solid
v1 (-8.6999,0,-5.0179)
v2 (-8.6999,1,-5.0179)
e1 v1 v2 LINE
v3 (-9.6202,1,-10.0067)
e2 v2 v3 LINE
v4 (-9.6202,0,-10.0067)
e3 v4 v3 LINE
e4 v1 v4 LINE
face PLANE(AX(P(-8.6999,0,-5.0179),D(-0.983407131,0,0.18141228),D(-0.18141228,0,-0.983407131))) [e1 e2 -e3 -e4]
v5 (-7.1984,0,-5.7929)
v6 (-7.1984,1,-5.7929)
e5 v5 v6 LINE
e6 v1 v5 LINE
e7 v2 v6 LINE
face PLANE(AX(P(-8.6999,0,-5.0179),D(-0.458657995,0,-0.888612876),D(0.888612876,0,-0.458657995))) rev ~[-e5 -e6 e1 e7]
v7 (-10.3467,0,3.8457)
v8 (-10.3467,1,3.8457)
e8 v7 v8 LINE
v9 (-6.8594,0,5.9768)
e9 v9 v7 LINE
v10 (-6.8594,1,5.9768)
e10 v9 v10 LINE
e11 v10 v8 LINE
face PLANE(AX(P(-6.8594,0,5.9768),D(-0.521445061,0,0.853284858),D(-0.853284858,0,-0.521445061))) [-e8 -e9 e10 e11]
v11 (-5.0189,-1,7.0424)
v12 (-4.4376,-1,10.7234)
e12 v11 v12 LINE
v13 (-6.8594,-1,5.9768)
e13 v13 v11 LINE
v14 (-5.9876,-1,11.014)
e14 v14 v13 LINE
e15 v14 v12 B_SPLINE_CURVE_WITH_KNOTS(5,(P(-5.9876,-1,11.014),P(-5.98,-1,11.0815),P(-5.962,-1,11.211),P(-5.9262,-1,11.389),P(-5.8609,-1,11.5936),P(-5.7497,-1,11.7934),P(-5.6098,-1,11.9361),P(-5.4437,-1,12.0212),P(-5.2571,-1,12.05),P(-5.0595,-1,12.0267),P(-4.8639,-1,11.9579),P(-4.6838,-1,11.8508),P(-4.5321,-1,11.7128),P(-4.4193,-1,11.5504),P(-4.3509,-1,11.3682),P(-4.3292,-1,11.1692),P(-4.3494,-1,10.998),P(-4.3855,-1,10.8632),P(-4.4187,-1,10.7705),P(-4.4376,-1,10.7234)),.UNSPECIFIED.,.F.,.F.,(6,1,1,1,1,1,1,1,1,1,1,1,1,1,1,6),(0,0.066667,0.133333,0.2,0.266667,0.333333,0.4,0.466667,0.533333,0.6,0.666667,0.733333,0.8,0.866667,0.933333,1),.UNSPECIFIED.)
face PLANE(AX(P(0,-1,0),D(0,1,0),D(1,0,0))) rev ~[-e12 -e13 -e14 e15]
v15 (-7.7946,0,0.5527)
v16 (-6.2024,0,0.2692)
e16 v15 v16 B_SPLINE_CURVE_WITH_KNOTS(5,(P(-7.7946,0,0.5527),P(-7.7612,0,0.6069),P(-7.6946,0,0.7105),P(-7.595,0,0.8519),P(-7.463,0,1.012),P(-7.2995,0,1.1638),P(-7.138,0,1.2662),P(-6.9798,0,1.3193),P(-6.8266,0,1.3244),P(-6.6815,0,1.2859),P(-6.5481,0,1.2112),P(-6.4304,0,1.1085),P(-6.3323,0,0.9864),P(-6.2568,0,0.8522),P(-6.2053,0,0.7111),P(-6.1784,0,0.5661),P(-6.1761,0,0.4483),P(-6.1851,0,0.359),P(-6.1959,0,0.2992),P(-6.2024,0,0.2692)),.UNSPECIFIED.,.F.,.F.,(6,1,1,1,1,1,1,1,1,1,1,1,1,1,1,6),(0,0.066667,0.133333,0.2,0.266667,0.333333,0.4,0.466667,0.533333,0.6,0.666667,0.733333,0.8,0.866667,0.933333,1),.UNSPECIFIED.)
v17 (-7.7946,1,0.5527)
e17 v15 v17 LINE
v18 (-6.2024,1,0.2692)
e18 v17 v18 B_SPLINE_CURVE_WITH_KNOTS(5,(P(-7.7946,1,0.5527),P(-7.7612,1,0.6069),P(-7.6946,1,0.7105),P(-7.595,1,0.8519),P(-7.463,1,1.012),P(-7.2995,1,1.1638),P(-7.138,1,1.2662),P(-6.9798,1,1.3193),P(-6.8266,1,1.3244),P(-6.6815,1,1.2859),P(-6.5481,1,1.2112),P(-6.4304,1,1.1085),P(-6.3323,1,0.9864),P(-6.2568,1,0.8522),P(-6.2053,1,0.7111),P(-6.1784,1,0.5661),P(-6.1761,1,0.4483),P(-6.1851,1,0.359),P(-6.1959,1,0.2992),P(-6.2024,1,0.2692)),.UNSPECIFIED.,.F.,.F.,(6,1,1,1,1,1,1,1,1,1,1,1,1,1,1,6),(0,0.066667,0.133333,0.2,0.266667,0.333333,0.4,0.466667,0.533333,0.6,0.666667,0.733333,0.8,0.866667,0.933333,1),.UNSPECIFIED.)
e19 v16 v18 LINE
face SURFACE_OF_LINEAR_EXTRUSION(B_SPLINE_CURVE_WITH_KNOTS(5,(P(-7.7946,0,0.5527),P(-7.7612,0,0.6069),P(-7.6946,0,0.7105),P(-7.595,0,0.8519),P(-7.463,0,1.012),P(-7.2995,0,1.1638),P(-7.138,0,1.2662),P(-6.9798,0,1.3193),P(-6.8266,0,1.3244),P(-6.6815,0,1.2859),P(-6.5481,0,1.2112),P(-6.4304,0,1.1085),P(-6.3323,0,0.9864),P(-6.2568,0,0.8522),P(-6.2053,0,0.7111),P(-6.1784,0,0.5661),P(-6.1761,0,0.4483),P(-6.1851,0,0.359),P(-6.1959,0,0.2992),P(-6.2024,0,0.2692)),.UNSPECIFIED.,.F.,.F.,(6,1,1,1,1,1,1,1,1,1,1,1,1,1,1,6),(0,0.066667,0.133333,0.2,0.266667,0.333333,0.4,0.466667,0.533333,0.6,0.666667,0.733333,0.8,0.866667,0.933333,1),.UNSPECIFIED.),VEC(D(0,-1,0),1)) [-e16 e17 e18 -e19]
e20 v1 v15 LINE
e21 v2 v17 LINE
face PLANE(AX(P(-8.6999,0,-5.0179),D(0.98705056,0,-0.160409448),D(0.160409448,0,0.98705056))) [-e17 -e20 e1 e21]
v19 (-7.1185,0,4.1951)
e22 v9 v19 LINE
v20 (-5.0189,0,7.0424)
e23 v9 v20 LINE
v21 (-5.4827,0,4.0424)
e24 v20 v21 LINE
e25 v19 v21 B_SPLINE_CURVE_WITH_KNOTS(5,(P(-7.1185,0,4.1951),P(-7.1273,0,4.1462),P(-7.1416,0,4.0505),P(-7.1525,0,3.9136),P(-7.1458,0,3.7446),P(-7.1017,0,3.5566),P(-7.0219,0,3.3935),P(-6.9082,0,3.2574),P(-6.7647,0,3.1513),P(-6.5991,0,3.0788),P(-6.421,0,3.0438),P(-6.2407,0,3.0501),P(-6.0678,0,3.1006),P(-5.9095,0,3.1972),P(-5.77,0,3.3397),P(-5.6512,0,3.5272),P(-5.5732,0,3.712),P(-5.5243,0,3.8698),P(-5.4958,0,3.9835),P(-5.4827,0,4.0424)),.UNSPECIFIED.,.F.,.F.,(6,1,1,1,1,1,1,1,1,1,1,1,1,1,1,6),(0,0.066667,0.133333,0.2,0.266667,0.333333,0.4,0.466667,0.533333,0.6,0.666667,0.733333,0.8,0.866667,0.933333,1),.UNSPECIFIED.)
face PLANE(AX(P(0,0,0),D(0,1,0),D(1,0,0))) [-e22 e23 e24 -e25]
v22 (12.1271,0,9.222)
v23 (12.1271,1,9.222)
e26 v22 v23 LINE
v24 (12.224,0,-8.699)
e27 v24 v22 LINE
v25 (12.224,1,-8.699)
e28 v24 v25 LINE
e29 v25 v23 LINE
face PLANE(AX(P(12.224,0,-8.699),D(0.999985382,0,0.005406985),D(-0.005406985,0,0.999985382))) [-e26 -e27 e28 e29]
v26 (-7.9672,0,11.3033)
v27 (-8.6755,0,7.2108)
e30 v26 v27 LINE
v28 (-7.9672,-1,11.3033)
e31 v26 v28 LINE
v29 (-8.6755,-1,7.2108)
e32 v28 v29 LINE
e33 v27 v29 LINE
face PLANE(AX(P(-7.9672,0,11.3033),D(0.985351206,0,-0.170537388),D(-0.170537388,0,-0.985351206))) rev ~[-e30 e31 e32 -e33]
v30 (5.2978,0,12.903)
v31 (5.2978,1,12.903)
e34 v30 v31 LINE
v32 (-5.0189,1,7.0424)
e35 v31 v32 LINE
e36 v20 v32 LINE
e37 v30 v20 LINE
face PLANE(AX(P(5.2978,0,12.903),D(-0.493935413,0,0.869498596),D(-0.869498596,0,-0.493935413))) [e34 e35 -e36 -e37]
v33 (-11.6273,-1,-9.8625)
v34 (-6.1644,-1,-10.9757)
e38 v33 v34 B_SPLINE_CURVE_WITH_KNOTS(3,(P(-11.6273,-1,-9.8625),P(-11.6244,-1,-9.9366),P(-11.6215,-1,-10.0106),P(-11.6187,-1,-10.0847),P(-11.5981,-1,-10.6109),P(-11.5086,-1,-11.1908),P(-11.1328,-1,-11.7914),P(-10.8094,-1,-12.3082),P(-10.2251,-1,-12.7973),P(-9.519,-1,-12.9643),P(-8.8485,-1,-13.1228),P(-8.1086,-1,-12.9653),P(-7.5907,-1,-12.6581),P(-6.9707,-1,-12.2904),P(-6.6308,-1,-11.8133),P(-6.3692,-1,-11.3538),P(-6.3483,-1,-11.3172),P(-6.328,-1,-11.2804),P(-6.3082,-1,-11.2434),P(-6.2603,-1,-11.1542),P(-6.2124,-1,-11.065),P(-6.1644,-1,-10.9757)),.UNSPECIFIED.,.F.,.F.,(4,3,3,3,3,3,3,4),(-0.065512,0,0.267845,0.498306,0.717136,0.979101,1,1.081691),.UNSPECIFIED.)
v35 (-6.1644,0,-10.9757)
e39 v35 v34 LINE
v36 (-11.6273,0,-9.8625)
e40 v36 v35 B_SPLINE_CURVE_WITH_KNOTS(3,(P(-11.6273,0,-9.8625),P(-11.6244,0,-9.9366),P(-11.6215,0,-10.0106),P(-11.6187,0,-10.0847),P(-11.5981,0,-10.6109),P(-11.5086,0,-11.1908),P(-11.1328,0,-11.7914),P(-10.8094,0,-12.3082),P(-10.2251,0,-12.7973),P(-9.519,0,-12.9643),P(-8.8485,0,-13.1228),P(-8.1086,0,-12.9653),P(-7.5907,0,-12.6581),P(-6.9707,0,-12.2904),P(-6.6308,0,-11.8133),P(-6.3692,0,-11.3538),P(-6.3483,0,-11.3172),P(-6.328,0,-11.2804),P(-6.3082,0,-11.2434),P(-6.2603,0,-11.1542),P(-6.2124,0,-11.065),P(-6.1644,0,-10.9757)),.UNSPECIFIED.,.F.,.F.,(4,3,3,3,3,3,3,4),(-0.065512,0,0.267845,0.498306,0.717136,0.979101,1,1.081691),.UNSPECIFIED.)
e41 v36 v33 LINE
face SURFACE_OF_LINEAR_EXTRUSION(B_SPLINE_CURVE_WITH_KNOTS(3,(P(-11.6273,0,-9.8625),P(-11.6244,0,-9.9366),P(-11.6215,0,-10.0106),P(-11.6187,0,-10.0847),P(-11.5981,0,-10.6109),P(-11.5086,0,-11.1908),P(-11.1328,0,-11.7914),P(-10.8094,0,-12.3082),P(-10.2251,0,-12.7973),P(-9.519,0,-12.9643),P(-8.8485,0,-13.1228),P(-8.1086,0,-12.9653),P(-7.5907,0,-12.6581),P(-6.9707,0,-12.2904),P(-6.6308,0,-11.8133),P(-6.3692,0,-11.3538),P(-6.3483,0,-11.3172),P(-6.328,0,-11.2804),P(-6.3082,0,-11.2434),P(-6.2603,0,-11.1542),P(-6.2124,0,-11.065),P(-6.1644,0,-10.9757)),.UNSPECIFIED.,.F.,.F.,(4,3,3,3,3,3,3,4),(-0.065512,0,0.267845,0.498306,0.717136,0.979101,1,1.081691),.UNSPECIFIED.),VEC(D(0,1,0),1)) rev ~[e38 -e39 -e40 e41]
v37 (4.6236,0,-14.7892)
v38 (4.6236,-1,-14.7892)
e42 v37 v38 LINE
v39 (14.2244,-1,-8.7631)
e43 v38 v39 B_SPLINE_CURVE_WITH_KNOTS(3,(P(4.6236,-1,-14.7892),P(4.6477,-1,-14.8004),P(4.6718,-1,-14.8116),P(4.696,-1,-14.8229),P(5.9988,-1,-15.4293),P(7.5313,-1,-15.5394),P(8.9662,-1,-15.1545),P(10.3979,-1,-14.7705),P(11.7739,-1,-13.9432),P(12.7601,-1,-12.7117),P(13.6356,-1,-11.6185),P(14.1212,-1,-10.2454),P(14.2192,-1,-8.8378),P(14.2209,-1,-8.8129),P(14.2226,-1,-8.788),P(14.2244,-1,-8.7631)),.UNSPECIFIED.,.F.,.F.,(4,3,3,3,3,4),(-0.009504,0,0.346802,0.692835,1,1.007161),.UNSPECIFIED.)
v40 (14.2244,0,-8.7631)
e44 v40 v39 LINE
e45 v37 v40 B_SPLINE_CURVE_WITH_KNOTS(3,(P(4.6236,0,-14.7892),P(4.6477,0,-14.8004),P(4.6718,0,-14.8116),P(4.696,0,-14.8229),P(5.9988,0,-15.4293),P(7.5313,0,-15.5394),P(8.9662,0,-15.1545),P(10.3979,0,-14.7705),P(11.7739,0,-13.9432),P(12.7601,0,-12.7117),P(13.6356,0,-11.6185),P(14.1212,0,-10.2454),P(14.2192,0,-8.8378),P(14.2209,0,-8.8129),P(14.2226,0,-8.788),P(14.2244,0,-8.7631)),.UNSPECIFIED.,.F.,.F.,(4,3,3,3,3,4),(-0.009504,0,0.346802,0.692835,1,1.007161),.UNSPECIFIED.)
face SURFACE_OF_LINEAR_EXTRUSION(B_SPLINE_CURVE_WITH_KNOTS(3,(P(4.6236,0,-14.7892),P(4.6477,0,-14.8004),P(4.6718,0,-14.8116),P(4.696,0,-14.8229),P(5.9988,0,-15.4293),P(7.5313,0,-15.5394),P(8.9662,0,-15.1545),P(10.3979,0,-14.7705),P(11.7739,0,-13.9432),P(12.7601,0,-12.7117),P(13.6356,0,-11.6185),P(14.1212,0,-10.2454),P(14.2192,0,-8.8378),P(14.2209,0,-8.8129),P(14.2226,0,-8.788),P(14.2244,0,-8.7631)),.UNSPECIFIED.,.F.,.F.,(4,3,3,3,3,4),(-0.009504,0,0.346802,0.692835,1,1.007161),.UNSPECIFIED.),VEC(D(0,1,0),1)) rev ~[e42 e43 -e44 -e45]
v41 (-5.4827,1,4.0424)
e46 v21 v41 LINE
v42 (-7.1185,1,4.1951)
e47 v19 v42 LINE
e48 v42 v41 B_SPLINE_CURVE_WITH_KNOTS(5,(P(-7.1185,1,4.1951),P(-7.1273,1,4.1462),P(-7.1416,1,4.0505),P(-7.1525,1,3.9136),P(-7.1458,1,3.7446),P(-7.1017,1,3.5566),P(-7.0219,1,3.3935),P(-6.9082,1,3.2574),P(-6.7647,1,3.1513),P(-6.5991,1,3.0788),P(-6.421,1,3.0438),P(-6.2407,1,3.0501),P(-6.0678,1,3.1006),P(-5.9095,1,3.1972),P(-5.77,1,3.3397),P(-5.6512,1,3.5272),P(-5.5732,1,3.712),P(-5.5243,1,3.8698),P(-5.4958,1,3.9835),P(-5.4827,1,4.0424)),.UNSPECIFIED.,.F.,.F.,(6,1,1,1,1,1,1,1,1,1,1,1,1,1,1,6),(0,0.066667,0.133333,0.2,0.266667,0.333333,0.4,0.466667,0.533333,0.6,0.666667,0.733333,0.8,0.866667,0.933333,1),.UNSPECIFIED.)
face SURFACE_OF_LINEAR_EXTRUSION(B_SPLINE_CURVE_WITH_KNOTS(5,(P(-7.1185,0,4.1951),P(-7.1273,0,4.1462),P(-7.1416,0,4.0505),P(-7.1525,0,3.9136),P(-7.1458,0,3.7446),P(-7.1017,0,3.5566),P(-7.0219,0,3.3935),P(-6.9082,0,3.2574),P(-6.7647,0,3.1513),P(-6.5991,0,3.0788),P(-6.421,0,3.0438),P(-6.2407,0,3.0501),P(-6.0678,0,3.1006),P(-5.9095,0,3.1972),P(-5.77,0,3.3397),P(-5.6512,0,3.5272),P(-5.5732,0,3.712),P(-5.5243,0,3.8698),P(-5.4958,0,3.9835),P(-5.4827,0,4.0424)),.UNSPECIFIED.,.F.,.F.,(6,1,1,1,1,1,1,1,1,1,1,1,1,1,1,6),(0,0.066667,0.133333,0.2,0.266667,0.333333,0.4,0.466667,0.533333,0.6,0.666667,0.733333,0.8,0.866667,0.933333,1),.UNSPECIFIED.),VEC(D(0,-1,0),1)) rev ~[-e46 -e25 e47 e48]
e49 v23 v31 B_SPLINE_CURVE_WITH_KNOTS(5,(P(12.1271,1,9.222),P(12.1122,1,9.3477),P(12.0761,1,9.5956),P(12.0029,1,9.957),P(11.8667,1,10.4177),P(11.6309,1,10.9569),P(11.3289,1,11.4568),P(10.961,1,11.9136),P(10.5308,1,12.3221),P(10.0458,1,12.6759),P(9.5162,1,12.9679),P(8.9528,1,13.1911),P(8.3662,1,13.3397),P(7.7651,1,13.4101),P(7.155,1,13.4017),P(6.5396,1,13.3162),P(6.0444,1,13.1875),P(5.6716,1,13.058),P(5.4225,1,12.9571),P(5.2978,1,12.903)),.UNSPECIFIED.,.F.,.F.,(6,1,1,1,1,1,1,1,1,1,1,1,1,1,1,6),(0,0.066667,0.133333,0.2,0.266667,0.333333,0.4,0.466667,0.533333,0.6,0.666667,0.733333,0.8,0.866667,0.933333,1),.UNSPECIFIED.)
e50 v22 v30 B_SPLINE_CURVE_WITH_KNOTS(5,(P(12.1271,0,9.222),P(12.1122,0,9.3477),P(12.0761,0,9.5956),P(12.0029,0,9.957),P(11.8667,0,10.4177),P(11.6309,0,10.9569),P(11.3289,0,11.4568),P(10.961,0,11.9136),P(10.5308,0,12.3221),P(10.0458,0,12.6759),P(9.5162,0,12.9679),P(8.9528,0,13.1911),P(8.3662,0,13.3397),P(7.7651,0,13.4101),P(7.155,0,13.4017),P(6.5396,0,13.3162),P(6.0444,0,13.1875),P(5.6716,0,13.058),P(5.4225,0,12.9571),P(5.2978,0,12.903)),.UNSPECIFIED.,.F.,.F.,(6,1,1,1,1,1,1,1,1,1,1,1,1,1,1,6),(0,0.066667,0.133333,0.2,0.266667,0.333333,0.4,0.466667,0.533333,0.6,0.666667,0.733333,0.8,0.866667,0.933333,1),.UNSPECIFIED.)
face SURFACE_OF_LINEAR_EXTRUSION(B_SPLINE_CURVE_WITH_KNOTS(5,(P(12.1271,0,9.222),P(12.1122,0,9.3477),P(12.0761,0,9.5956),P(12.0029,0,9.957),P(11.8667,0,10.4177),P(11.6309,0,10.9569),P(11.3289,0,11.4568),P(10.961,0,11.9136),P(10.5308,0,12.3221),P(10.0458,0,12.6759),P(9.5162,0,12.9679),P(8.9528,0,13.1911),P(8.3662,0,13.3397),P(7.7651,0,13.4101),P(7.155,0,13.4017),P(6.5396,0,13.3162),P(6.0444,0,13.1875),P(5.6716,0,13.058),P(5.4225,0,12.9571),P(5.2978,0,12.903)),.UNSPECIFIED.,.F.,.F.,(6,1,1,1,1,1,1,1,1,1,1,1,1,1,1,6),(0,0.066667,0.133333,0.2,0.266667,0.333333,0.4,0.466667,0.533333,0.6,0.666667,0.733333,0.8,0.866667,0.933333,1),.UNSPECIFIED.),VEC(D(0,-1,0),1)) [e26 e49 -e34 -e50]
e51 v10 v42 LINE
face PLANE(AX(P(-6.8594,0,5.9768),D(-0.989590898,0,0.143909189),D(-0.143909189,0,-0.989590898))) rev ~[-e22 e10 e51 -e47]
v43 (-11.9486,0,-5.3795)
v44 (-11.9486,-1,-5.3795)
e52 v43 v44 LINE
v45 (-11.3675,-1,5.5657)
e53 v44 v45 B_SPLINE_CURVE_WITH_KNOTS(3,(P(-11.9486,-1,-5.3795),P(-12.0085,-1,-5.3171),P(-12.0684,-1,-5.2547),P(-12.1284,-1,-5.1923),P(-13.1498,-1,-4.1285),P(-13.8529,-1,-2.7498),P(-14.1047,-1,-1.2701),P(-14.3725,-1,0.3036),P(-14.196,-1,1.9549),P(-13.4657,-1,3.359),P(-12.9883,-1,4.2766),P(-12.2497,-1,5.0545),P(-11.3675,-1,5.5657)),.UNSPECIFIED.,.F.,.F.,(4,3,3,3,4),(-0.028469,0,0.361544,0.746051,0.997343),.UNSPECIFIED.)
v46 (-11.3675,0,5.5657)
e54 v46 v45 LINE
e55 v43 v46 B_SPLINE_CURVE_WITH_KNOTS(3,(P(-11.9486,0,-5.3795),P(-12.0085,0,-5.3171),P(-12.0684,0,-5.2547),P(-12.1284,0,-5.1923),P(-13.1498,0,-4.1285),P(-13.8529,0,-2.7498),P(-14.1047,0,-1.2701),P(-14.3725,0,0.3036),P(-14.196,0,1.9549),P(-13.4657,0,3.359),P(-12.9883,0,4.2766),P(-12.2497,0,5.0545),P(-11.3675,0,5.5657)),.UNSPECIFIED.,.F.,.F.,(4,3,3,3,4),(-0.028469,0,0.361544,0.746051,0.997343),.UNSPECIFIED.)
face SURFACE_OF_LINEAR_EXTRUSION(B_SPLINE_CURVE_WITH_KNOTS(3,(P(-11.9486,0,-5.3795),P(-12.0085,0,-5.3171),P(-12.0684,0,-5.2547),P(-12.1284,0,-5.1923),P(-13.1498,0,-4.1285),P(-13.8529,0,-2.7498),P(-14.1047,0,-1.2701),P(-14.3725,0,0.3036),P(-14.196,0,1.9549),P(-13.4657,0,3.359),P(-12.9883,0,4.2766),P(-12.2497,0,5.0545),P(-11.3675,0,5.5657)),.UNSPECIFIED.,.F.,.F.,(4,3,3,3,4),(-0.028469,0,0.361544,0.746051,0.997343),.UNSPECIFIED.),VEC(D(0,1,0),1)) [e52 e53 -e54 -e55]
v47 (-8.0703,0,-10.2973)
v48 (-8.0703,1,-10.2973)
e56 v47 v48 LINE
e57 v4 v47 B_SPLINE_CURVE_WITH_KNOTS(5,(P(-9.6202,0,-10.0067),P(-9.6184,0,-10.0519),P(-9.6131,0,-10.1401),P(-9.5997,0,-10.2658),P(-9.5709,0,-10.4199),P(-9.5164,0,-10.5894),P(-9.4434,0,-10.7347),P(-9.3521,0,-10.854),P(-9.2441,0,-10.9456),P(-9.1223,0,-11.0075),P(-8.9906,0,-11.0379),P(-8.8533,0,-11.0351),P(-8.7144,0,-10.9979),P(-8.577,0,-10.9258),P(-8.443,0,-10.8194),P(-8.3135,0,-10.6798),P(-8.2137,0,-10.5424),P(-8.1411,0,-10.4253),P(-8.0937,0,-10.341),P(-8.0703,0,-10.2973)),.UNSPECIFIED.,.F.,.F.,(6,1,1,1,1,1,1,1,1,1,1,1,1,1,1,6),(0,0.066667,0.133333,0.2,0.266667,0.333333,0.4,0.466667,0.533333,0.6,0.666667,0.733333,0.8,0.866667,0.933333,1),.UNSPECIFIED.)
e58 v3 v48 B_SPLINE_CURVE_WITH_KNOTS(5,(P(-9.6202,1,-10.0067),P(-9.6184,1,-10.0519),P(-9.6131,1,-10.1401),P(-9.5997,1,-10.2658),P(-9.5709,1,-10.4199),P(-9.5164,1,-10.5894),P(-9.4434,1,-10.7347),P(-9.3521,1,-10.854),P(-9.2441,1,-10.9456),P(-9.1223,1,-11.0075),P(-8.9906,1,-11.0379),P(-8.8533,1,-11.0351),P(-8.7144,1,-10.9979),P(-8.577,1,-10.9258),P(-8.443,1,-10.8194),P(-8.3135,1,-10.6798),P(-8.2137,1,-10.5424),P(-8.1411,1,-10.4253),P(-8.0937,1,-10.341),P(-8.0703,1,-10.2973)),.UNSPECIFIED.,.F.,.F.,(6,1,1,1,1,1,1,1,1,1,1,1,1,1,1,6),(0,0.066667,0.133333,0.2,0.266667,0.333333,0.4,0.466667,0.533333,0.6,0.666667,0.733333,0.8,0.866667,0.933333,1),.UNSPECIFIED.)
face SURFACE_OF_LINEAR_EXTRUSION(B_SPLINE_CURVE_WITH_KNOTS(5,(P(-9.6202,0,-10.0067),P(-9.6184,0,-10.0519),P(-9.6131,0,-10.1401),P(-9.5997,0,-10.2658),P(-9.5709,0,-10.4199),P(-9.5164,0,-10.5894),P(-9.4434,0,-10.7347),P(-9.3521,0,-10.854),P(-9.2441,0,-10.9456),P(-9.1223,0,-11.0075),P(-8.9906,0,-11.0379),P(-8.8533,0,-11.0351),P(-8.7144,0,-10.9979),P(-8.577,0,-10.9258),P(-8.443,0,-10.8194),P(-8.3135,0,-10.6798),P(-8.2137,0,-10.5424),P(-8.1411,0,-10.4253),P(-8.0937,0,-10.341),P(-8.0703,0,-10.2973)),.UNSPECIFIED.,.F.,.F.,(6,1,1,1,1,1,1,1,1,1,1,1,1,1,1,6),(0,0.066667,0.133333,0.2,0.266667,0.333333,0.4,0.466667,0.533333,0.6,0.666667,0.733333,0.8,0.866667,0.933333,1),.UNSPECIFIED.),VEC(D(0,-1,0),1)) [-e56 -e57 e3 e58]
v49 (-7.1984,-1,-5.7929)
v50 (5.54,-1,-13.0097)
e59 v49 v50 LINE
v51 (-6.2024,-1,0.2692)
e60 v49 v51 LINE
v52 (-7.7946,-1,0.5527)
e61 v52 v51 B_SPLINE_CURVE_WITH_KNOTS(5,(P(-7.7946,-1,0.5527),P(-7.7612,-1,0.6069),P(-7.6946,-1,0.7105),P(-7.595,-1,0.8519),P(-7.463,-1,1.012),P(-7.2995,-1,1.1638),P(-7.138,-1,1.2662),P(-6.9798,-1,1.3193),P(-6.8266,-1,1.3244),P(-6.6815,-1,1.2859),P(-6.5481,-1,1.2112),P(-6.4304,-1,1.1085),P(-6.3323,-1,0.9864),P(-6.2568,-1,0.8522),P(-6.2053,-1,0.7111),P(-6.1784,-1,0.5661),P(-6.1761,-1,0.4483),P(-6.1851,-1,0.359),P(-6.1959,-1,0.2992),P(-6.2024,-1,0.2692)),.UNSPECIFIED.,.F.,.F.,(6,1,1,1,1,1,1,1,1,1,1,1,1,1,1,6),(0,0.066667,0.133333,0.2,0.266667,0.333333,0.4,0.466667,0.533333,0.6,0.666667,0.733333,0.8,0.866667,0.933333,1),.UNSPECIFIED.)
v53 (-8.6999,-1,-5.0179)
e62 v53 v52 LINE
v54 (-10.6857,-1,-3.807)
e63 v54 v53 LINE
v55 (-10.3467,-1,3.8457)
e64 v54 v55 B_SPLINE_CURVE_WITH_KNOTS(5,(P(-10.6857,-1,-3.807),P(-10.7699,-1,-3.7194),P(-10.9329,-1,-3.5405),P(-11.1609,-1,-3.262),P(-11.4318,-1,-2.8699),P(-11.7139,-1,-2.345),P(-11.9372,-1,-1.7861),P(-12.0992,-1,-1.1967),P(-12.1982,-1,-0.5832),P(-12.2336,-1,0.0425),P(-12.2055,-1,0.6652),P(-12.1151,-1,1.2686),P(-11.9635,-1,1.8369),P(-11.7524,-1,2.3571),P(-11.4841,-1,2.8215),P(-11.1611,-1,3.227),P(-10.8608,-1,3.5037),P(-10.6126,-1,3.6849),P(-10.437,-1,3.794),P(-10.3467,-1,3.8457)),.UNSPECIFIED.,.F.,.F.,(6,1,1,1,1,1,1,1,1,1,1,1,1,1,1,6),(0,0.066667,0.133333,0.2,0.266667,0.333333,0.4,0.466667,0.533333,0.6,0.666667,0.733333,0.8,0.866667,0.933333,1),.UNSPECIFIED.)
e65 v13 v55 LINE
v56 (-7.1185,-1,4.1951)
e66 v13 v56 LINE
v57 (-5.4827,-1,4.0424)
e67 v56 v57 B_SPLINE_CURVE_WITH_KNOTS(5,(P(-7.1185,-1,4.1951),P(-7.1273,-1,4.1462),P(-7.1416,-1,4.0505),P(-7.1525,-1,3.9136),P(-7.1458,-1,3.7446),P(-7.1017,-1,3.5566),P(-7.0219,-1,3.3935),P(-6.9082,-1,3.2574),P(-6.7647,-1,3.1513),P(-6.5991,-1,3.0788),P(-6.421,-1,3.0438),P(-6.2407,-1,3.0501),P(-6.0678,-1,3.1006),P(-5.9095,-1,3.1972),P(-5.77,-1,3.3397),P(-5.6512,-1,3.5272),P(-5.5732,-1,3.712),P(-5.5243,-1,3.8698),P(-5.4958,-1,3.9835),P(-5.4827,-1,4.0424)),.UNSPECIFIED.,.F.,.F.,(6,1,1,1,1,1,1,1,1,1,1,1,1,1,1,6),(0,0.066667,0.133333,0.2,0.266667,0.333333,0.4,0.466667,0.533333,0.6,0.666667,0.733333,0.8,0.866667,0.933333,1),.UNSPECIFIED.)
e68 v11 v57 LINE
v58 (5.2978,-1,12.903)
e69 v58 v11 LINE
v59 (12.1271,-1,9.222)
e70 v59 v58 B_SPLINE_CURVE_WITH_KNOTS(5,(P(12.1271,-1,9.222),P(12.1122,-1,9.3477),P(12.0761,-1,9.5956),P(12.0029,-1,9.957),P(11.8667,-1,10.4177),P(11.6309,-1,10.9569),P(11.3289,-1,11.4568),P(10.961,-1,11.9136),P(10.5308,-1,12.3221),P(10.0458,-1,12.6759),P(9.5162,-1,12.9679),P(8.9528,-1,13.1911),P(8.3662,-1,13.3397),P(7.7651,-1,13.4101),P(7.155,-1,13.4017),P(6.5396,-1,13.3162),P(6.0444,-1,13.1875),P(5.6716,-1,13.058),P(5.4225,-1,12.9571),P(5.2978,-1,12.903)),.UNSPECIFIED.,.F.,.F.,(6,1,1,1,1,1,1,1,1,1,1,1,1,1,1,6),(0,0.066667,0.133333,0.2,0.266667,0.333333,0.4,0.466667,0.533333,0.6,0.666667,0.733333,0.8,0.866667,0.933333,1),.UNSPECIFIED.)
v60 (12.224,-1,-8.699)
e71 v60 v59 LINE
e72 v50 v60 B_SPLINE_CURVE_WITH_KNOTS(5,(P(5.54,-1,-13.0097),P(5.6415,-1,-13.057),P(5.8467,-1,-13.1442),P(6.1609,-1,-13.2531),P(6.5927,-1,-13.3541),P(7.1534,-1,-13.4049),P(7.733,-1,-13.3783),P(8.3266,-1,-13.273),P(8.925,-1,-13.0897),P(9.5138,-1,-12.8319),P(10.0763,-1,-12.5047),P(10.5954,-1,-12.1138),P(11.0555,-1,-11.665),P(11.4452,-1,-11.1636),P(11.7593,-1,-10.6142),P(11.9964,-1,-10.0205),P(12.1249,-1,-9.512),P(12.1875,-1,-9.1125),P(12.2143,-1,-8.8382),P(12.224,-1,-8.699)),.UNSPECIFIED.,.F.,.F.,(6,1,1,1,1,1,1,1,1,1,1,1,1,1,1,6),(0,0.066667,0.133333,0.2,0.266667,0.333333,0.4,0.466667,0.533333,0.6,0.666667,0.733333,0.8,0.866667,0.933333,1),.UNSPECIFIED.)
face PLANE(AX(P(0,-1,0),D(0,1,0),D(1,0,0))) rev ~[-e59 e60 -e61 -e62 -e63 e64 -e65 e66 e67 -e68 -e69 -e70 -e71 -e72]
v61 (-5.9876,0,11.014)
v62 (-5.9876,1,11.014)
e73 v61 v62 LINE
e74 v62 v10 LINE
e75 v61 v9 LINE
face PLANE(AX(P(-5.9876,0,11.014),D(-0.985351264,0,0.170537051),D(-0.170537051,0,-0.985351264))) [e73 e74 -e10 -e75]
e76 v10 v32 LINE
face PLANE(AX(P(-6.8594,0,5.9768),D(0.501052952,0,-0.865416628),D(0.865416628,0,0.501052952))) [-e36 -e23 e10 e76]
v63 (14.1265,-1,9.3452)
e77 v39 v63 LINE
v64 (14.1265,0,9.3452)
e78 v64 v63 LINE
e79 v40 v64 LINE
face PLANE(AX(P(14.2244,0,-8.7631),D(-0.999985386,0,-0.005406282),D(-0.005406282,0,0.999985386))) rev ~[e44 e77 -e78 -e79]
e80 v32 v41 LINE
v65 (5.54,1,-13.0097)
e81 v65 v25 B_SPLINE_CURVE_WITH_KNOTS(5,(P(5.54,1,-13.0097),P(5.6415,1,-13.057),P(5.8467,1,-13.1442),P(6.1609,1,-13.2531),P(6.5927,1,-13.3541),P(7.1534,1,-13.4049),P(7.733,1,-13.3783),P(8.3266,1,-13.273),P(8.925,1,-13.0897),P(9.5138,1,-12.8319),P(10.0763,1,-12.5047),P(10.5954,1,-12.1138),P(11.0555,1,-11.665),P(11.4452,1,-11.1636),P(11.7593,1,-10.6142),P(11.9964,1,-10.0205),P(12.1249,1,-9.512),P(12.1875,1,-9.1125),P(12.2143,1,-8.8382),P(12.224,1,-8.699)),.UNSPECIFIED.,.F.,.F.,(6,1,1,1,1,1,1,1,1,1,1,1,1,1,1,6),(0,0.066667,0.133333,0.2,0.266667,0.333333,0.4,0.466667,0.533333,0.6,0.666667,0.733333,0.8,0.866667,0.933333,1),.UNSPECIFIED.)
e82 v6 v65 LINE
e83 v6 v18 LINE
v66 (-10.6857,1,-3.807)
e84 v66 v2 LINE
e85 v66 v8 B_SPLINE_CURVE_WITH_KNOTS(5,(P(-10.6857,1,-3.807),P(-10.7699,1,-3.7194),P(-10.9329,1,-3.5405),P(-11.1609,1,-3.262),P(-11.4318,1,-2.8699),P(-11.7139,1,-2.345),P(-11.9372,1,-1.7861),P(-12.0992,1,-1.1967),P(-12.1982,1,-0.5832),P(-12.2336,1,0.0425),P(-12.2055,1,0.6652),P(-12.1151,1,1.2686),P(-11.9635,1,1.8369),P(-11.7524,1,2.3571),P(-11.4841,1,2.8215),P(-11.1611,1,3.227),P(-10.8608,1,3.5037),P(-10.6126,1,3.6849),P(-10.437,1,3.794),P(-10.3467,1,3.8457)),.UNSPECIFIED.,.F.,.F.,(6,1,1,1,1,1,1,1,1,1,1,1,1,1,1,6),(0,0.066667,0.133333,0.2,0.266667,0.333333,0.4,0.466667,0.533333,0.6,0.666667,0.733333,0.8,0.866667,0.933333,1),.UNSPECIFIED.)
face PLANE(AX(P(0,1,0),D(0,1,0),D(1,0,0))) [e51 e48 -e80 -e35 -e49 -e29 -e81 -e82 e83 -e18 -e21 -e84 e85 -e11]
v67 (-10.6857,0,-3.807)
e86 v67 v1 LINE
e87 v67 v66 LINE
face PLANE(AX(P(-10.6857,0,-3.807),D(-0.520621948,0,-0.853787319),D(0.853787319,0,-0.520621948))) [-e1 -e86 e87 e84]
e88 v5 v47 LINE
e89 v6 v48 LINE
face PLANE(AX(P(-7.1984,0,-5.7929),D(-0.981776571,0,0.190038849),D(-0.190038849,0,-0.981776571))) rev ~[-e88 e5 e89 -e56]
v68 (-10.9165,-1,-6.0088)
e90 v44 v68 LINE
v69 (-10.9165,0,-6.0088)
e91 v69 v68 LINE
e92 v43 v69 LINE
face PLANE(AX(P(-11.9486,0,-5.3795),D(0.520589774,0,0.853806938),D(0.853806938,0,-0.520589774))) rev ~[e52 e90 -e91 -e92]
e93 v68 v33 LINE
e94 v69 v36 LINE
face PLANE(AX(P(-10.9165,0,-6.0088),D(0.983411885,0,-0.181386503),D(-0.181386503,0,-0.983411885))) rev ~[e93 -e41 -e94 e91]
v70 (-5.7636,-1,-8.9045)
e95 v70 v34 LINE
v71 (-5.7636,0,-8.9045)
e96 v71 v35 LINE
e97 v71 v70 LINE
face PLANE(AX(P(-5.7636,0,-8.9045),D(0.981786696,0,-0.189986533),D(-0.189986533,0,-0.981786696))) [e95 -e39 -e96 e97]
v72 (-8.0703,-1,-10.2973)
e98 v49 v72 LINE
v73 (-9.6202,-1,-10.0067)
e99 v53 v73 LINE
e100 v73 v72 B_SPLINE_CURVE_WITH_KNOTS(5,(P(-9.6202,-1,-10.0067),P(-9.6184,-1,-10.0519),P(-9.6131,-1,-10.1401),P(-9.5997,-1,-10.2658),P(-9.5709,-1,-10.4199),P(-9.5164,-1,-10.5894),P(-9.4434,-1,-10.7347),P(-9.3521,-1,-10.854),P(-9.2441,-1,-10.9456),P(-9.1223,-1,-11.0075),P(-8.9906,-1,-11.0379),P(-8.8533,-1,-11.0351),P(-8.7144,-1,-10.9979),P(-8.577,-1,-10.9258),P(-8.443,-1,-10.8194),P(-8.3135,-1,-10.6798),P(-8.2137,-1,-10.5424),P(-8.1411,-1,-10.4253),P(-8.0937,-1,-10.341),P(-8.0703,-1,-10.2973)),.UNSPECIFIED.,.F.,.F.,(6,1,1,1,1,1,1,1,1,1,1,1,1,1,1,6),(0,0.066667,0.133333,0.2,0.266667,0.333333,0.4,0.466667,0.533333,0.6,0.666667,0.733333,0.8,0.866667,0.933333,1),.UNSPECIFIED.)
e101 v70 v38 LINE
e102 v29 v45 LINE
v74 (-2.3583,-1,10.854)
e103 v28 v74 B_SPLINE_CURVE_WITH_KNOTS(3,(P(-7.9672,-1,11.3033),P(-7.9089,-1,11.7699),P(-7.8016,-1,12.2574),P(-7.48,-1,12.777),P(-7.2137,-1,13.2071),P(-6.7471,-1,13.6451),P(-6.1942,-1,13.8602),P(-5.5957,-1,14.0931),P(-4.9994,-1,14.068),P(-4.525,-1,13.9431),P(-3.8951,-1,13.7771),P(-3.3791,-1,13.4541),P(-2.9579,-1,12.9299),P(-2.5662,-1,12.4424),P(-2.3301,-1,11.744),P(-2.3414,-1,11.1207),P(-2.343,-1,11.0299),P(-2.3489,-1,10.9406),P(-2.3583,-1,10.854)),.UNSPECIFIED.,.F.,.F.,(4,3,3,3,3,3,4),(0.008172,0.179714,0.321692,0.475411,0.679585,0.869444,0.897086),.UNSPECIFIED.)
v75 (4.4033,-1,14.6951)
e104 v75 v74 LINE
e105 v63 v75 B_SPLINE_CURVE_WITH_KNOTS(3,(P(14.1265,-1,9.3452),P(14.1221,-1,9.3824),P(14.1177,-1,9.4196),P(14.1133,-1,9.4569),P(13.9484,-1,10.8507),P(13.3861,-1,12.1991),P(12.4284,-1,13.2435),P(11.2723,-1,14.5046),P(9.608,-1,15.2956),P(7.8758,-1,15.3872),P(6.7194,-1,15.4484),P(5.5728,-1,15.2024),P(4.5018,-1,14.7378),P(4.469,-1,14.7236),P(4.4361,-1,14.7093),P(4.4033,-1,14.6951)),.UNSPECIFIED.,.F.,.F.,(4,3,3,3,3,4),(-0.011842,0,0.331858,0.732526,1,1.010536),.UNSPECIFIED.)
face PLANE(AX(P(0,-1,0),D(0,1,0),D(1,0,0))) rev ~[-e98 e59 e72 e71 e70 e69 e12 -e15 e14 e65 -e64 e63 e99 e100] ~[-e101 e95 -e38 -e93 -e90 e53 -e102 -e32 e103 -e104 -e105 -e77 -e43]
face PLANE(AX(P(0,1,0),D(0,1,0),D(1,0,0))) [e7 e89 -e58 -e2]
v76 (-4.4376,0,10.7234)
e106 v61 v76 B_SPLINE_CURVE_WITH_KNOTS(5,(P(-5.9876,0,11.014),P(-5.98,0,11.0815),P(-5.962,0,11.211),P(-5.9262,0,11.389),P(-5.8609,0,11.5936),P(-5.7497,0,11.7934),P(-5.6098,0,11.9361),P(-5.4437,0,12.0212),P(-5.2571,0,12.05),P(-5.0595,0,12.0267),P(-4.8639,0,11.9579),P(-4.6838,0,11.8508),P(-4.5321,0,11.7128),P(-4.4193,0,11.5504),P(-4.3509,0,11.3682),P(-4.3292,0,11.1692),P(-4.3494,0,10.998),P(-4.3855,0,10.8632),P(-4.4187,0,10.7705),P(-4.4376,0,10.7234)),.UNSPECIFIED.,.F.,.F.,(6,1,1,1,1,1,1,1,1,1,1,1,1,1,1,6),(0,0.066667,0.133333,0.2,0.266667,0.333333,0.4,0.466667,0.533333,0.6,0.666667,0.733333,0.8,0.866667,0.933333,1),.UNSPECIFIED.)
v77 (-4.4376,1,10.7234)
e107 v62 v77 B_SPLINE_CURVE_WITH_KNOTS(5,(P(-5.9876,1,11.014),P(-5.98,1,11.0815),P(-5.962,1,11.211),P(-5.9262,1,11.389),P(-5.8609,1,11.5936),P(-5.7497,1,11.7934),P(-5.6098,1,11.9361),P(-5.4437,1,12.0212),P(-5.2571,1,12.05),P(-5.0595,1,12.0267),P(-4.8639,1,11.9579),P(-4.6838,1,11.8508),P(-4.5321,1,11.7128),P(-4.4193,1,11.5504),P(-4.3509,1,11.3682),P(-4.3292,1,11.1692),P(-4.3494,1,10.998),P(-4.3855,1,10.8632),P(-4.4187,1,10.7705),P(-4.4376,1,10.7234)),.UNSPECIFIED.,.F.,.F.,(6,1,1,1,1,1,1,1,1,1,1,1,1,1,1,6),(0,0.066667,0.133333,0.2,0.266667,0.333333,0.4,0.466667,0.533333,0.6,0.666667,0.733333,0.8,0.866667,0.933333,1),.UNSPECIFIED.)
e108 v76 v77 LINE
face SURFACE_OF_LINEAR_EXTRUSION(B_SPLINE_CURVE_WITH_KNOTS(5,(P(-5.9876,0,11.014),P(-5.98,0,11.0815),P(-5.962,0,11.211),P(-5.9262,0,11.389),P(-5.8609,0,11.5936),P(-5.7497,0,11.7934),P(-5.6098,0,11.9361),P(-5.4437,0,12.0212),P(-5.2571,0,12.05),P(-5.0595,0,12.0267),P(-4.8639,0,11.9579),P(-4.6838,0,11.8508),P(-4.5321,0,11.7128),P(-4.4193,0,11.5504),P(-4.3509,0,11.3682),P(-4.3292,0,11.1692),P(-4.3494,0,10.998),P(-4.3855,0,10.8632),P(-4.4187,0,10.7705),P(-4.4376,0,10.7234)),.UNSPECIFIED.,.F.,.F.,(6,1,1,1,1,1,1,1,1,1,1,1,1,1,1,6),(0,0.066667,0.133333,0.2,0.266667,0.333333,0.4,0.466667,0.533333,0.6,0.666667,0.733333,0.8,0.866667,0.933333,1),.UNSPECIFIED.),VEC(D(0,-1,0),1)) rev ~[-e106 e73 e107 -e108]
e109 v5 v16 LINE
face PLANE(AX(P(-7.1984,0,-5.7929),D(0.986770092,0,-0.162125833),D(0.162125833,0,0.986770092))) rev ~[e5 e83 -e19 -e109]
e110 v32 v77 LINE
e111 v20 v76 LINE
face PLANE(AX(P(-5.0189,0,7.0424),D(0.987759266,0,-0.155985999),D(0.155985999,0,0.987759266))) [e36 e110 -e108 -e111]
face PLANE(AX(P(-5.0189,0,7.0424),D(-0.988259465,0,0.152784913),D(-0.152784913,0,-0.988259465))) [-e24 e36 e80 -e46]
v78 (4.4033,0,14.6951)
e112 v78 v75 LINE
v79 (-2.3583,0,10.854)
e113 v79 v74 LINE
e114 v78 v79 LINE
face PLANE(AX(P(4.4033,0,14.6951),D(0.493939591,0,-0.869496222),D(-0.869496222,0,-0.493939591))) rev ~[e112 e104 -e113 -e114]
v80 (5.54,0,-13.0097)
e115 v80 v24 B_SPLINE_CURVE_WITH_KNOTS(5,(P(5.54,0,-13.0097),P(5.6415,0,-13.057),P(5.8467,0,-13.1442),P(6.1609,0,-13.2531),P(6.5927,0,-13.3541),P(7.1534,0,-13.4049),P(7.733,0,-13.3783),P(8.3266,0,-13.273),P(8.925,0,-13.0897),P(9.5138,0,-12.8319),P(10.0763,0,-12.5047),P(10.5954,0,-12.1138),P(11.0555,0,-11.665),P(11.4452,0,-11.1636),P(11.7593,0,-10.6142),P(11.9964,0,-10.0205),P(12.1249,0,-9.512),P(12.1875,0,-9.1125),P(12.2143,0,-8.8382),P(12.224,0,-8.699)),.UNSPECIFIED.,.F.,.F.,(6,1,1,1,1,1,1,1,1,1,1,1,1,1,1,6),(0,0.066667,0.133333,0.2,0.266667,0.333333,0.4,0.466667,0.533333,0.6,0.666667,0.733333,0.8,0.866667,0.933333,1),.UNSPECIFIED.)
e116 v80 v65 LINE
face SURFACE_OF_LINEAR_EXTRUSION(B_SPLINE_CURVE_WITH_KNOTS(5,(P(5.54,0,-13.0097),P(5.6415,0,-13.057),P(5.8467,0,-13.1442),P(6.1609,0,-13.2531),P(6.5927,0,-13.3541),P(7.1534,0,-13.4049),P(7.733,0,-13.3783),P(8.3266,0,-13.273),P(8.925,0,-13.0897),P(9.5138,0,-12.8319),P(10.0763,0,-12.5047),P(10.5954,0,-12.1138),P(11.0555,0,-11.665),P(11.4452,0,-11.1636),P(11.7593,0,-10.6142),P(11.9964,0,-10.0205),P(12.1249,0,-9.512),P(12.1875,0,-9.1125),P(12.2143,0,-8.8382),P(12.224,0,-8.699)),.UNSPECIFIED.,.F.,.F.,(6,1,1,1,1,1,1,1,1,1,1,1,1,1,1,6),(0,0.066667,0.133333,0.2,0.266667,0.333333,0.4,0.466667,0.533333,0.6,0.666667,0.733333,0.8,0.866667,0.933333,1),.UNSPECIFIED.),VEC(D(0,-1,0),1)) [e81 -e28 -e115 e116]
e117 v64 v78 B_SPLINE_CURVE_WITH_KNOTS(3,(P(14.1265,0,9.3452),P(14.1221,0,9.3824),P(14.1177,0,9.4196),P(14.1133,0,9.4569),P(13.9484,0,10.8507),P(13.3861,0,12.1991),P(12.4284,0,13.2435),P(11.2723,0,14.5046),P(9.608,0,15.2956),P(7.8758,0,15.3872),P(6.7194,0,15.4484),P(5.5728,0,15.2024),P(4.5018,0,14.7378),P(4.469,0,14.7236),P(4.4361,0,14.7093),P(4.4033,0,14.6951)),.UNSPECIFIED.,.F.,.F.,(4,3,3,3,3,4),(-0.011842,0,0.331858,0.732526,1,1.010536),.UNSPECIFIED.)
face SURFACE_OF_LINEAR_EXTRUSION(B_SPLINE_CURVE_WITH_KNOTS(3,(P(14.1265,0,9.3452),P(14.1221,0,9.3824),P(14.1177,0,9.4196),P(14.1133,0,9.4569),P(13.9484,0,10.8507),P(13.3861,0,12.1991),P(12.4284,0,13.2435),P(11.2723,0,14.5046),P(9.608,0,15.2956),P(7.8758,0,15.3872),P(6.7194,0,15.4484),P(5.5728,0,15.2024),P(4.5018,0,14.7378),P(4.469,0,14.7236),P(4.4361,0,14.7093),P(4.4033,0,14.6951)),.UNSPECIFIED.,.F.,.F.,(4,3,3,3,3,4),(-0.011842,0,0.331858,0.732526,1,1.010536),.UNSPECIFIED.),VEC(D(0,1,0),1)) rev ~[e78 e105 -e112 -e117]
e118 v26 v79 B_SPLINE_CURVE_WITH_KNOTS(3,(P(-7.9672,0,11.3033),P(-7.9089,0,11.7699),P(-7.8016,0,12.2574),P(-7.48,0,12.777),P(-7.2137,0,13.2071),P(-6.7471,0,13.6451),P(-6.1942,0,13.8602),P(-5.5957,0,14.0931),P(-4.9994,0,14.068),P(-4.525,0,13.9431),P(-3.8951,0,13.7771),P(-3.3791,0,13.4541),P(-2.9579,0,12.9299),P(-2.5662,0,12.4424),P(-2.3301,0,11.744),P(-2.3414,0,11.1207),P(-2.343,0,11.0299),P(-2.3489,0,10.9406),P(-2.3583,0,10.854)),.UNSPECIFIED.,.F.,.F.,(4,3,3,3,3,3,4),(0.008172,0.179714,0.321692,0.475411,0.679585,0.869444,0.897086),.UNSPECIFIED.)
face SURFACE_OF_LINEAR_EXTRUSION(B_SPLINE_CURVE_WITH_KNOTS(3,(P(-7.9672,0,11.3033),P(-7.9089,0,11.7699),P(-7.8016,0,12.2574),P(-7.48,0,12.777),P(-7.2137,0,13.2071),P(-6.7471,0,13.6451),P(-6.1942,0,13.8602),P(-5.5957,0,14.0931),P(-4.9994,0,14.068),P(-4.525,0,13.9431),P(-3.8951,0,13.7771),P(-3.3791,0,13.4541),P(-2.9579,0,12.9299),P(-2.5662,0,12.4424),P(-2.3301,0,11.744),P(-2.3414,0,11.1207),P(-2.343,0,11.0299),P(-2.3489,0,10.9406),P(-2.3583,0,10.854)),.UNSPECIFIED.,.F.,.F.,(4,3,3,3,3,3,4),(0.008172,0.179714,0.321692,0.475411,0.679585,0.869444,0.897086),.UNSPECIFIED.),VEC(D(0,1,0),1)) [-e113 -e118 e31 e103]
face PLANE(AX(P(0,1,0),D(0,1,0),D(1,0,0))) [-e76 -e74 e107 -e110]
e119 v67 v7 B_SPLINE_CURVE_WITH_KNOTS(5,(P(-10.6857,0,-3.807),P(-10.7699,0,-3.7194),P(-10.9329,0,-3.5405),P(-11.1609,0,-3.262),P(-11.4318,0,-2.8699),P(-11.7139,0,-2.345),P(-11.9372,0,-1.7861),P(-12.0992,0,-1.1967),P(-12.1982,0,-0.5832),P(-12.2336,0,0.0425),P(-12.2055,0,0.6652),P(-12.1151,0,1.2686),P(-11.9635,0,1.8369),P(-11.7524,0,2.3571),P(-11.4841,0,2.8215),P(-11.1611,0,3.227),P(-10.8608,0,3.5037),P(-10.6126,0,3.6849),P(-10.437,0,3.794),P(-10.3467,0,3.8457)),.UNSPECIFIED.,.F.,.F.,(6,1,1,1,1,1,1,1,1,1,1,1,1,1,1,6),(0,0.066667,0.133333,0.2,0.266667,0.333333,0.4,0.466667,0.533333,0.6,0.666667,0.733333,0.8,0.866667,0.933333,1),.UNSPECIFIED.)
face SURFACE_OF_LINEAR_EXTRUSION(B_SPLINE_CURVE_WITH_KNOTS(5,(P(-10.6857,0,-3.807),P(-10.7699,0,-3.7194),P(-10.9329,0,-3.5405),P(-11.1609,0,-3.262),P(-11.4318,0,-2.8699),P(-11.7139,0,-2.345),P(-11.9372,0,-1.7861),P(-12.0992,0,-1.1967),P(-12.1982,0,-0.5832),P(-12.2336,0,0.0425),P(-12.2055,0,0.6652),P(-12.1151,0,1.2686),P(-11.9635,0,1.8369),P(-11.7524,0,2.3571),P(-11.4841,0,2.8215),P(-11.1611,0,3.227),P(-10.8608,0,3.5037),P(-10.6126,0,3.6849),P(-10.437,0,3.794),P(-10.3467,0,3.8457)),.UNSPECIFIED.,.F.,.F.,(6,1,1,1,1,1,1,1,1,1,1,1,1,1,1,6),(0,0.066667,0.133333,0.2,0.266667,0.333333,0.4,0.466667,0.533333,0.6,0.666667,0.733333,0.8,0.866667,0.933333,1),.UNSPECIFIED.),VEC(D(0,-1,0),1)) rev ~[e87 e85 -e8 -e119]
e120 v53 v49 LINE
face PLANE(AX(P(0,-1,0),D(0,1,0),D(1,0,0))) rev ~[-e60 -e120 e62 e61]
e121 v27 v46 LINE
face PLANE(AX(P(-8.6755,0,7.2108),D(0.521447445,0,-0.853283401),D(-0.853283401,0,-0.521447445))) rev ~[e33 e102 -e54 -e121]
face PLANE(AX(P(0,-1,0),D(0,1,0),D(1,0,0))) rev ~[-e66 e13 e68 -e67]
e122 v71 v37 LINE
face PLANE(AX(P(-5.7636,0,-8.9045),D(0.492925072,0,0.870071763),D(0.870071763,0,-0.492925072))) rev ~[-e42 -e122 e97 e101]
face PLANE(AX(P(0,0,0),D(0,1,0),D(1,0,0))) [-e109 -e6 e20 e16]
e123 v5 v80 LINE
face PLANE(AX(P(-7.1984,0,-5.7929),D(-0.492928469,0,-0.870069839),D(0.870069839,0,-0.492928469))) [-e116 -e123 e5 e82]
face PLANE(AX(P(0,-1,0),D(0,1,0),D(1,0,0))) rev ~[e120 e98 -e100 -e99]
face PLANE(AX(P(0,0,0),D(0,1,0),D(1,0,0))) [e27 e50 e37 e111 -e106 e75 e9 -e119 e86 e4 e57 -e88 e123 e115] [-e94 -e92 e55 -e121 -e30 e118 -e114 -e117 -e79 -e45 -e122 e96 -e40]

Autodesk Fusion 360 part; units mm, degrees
sketch "Esquisse1" plane through (0, 0, 0) normal (0, 1, 0) x (1, 0, 0)
sketch "Esquisse2" plane through (0, 0, 0) normal (0, 1, 0) x (1, 0, 0)
  line L0 (-7.1984, 5.7929) -> (5.54, 13.0097)
  line L1 (12.224, 8.699) -> (12.1271, -9.222)
  line L2 (5.2978, -12.903) -> (-5.0189, -7.0424)
  line L3 (-5.0189, -7.0424) -> (-4.4376, -10.7234)
  line L4 (-5.9876, -11.014) -> (-6.8594, -5.9768)
  line L5 (-6.8594, -5.9768) -> (-10.3467, -3.8457)
  line L6 (-10.6857, 3.807) -> (-8.6999, 5.0179)
  line L7 (-8.6999, 5.0179) -> (-9.6202, 10.0067)
  line L8 (-7.1984, 5.7929) -> (-8.0703, 10.2973)
  line L9 (-8.6999, 5.0179) -> (-7.1984, 5.7929)
  line L10 (-6.8594, -5.9768) -> (-5.0189, -7.0424)
  line L11 (-5.0189, -7.0424) -> (-5.4827, -4.0424)
  line L12 (-6.8594, -5.9768) -> (-7.1185, -4.1951)
  line L13 (-8.6999, 5.0179) -> (-7.7946, -0.5527)
  line L14 (-7.1984, 5.7929) -> (-6.2024, -0.2692)
  spline S0 degree 5 poles (-10.6857, 3.807) (-10.7699, 3.7194) (-10.9329, 3.5405) (-11.1609, 3.262) (-11.4318, 2.8699) (-11.7139, 2.345) (-11.9372, 1.7861) (-12.0992, 1.1967) (-12.1982, 0.5832) (-12.2336, -0.0425) (-12.2055, -0.6652) (-12.1151, -1.2686) (-11.9635, -1.8369) (-11.7524, -2.3571) (-11.4841, -2.8215) (-11.1611, -3.227) (-10.8608, -3.5037) (-10.6126, -3.6849) (-10.437, -3.794) (-10.3467, -3.8457) knots 0 0 0 0 0 0 0.066667 0.133333 0.2 0.266667 0.333333 0.4 0.466667 0.533333 0.6 0.666667 0.733333 0.8 0.866667 0.933333 1 1 1 1 1 1
  spline S1 degree 5 poles (-5.9876, -11.014) (-5.98, -11.0815) (-5.962, -11.211) (-5.9262, -11.389) (-5.8609, -11.5936) (-5.7497, -11.7934) (-5.6098, -11.9361) (-5.4437, -12.0212) (-5.2571, -12.05) (-5.0595, -12.0267) (-4.8639, -11.9579) (-4.6838, -11.8508) (-4.5321, -11.7128) (-4.4193, -11.5504) (-4.3509, -11.3682) (-4.3292, -11.1692) (-4.3494, -10.998) (-4.3855, -10.8632) (-4.4187, -10.7705) (-4.4376, -10.7234) knots 0 0 0 0 0 0 0.066667 0.133333 0.2 0.266667 0.333333 0.4 0.466667 0.533333 0.6 0.666667 0.733333 0.8 0.866667 0.933333 1 1 1 1 1 1
  spline S2 degree 5 poles (-9.6202, 10.0067) (-9.6184, 10.0519) (-9.6131, 10.1401) (-9.5997, 10.2658) (-9.5709, 10.4199) (-9.5164, 10.5894) (-9.4434, 10.7347) (-9.3521, 10.854) (-9.2441, 10.9456) (-9.1223, 11.0075) (-8.9906, 11.0379) (-8.8533, 11.0351) (-8.7144, 10.9979) (-8.577, 10.9258) (-8.443, 10.8194) (-8.3135, 10.6798) (-8.2137, 10.5424) (-8.1411, 10.4253) (-8.0937, 10.341) (-8.0703, 10.2973) knots 0 0 0 0 0 0 0.066667 0.133333 0.2 0.266667 0.333333 0.4 0.466667 0.533333 0.6 0.666667 0.733333 0.8 0.866667 0.933333 1 1 1 1 1 1
  spline S3 degree 5 poles (-7.7946, -0.5527) (-7.7612, -0.6069) (-7.6946, -0.7105) (-7.595, -0.8519) (-7.463, -1.012) (-7.2995, -1.1638) (-7.138, -1.2662) (-6.9798, -1.3193) (-6.8266, -1.3244) (-6.6815, -1.2859) (-6.5481, -1.2112) (-6.4304, -1.1085) (-6.3323, -0.9864) (-6.2568, -0.8522) (-6.2053, -0.7111) (-6.1784, -0.5661) (-6.1761, -0.4483) (-6.1851, -0.359) (-6.1959, -0.2992) (-6.2024, -0.2692) knots 0 0 0 0 0 0 0.066667 0.133333 0.2 0.266667 0.333333 0.4 0.466667 0.533333 0.6 0.666667 0.733333 0.8 0.866667 0.933333 1 1 1 1 1 1
  spline S4 degree 5 poles (-7.1185, -4.1951) (-7.1273, -4.1462) (-7.1416, -4.0505) (-7.1525, -3.9136) (-7.1458, -3.7446) (-7.1017, -3.5566) (-7.0219, -3.3935) (-6.9082, -3.2574) (-6.7647, -3.1513) (-6.5991, -3.0788) (-6.421, -3.0438) (-6.2407, -3.0501) (-6.0678, -3.1006) (-5.9095, -3.1972) (-5.77, -3.3397) (-5.6512, -3.5272) (-5.5732, -3.712) (-5.5243, -3.8698) (-5.4958, -3.9835) (-5.4827, -4.0424) knots 0 0 0 0 0 0 0.066667 0.133333 0.2 0.266667 0.333333 0.4 0.466667 0.533333 0.6 0.666667 0.733333 0.8 0.866667 0.933333 1 1 1 1 1 1
  spline S5 degree 5 poles (5.54, 13.0097) (5.6415, 13.057) (5.8467, 13.1442) (6.1609, 13.2531) (6.5927, 13.3541) (7.1534, 13.4049) (7.733, 13.3783) (8.3266, 13.273) (8.925, 13.0897) (9.5138, 12.8319) (10.0763, 12.5047) (10.5954, 12.1138) (11.0555, 11.665) (11.4452, 11.1636) (11.7593, 10.6142) (11.9964, 10.0205) (12.1249, 9.512) (12.1875, 9.1125) (12.2143, 8.8382) (12.224, 8.699) knots 0 0 0 0 0 0 0.066667 0.133333 0.2 0.266667 0.333333 0.4 0.466667 0.533333 0.6 0.666667 0.733333 0.8 0.866667 0.933333 1 1 1 1 1 1
  spline S6 degree 5 poles (12.1271, -9.222) (12.1122, -9.3477) (12.0761, -9.5956) (12.0029, -9.957) (11.8667, -10.4177) (11.6309, -10.9569) (11.3289, -11.4568) (10.961, -11.9136) (10.5308, -12.3221) (10.0458, -12.6759) (9.5162, -12.9679) (8.9528, -13.1911) (8.3662, -13.3397) (7.7651, -13.4101) (7.155, -13.4017) (6.5396, -13.3162) (6.0444, -13.1875) (5.6716, -13.058) (5.4225, -12.9571) (5.2978, -12.903) knots 0 0 0 0 0 0 0.066667 0.133333 0.2 0.266667 0.333333 0.4 0.466667 0.533333 0.6 0.666667 0.733333 0.8 0.866667 0.933333 1 1 1 1 1 1
  line L15 (-5.7636, 8.9045) -> (-6.1644, 10.9757)
  spline S7 degree 3 poles (-11.6273, 9.8625) (-11.6244, 9.9366) (-11.6215, 10.0106) (-11.6187, 10.0847) (-11.5981, 10.6109) (-11.5086, 11.1908) (-11.1328, 11.7914) (-10.8094, 12.3082) (-10.2251, 12.7973) (-9.519, 12.9643) (-8.8485, 13.1228) (-8.1086, 12.9653) (-7.5907, 12.6581) (-6.9707, 12.2904) (-6.6308, 11.8133) (-6.3692, 11.3538) (-6.3483, 11.3172) (-6.328, 11.2804) (-6.3082, 11.2434) (-6.2603, 11.1542) (-6.2124, 11.065) (-6.1644, 10.9757) knots -0.065512 -0.065512 -0.065512 -0.065512 0 0 0 0.267845 0.267845 0.267845 0.498306 0.498306 0.498306 0.717136 0.717136 0.717136 0.979101 0.979101 0.979101 1 1 1 1.081691 1.081691 1.081691 1.081691
  line L16 (-10.9165, 6.0088) -> (-11.6273, 9.8625)
  line L17 (-11.9486, 5.3795) -> (-10.9165, 6.0088)
  spline S8 degree 3 poles (-11.9486, 5.3795) (-12.0085, 5.3171) (-12.0684, 5.2547) (-12.1284, 5.1923) (-13.1498, 4.1285) (-13.8529, 2.7498) (-14.1047, 1.2701) (-14.3725, -0.3036) (-14.196, -1.9549) (-13.4657, -3.359) (-12.9883, -4.2766) (-12.2497, -5.0545) (-11.3675, -5.5657) knots -0.028469 -0.028469 -0.028469 -0.028469 0 0 0 0.361544 0.361544 0.361544 0.746051 0.746051 0.746051 0.997343 0.997343 0.997343 0.997343
  line L18 (-8.6755, -7.2108) -> (-11.3675, -5.5657)
  line L19 (-7.9672, -11.3033) -> (-8.6755, -7.2108)
  spline S9 degree 3 poles (-7.9672, -11.3033) (-7.9089, -11.7699) (-7.8016, -12.2574) (-7.48, -12.777) (-7.2137, -13.2071) (-6.7471, -13.6451) (-6.1942, -13.8602) (-5.5957, -14.0931) (-4.9994, -14.068) (-4.525, -13.9431) (-3.8951, -13.7771) (-3.3791, -13.4541) (-2.9579, -12.9299) (-2.5662, -12.4424) (-2.3301, -11.744) (-2.3414, -11.1207) (-2.343, -11.0299) (-2.3489, -10.9406) (-2.3583, -10.854) knots 0.008172 0.008172 0.008172 0.008172 0.179714 0.179714 0.179714 0.321692 0.321692 0.321692 0.475411 0.475411 0.475411 0.679585 0.679585 0.679585 0.869444 0.869444 0.869444 0.897086 0.897086 0.897086 0.897086
  line L20 (4.4033, -14.6951) -> (-2.3583, -10.854)
  spline S10 degree 3 poles (14.1265, -9.3452) (14.1221, -9.3824) (14.1177, -9.4196) (14.1133, -9.4569) (13.9484, -10.8507) (13.3861, -12.1991) (12.4284, -13.2435) (11.2723, -14.5046) (9.608, -15.2956) (7.8758, -15.3872) (6.7194, -15.4484) (5.5728, -15.2024) (4.5018, -14.7378) (4.469, -14.7236) (4.4361, -14.7093) (4.4033, -14.6951) knots -0.011842 -0.011842 -0.011842 -0.011842 0 0 0 0.331858 0.331858 0.331858 0.732526 0.732526 0.732526 1 1 1 1.010536 1.010536 1.010536 1.010536
  line L21 (14.2244, 8.7631) -> (14.1265, -9.3452)
  spline S11 degree 3 poles (4.6236, 14.7892) (4.6477, 14.8004) (4.6718, 14.8116) (4.696, 14.8229) (5.9988, 15.4293) (7.5313, 15.5394) (8.9662, 15.1545) (10.3979, 14.7705) (11.7739, 13.9432) (12.7601, 12.7117) (13.6356, 11.6185) (14.1212, 10.2454) (14.2192, 8.8378) (14.2209, 8.8129) (14.2226, 8.788) (14.2244, 8.7631) knots -0.009504 -0.009504 -0.009504 -0.009504 0 0 0 0.346802 0.346802 0.346802 0.692835 0.692835 0.692835 1 1 1 1.007161 1.007161 1.007161 1.007161
  line L22 (-5.7636, 8.9045) -> (4.6236, 14.7892)
  point P0 (-12.1008, 1.1081)
  point P1 (-11.8883, -1.9946)
  point P2 (-5.4039, -12.0173)
  point P3 (-4.534, -11.6977)
  point P4 (-9.3358, 10.8596)
  point P5 (-8.7483, 11.0014)
  point P6 (-6.9047, -1.3161)
  point P7 (-6.3172, -0.9514)
  point P8 (-6.9028, -3.2668)
  point P9 (-6.1132, -3.0951)
  point P10 (8.1681, 13.2894)
  point P11 (10.9712, 11.7249)
  point P12 (10.9712, -11.8733)
  point P13 (8.4289, -13.3075)
  dimension "d3" = -2
extrude "Extrusion1" add sketch "Esquisse2" along normal blind 1 contours L7 L8 L9 S2 | L0 L1 L2 L5 L6 L11 L12 L13 L14 S0 S3 S4 S5 S6 | L3 L4 L10 S1 makes body 1 at (6.2735, 0, 1.4601)
extrude "Extrusion2" add sketch "Esquisse2" against normal blind 1 separate body contours L7 L8 L9 S2 | L9 L13 L14 S3 | L0 L1 L2 L5 L6 L11 L12 L13 L14 S0 S3 S4 S5 S6 | L3 L4 L10 S1 | L10 L11 L12 S4 | L15 S7 L16 L17 S8 L18 L19 S9 L20 S10 L21 S11 L22 makes body 2
combine "Combiner1" operation add target body 2 tool bodies 1
